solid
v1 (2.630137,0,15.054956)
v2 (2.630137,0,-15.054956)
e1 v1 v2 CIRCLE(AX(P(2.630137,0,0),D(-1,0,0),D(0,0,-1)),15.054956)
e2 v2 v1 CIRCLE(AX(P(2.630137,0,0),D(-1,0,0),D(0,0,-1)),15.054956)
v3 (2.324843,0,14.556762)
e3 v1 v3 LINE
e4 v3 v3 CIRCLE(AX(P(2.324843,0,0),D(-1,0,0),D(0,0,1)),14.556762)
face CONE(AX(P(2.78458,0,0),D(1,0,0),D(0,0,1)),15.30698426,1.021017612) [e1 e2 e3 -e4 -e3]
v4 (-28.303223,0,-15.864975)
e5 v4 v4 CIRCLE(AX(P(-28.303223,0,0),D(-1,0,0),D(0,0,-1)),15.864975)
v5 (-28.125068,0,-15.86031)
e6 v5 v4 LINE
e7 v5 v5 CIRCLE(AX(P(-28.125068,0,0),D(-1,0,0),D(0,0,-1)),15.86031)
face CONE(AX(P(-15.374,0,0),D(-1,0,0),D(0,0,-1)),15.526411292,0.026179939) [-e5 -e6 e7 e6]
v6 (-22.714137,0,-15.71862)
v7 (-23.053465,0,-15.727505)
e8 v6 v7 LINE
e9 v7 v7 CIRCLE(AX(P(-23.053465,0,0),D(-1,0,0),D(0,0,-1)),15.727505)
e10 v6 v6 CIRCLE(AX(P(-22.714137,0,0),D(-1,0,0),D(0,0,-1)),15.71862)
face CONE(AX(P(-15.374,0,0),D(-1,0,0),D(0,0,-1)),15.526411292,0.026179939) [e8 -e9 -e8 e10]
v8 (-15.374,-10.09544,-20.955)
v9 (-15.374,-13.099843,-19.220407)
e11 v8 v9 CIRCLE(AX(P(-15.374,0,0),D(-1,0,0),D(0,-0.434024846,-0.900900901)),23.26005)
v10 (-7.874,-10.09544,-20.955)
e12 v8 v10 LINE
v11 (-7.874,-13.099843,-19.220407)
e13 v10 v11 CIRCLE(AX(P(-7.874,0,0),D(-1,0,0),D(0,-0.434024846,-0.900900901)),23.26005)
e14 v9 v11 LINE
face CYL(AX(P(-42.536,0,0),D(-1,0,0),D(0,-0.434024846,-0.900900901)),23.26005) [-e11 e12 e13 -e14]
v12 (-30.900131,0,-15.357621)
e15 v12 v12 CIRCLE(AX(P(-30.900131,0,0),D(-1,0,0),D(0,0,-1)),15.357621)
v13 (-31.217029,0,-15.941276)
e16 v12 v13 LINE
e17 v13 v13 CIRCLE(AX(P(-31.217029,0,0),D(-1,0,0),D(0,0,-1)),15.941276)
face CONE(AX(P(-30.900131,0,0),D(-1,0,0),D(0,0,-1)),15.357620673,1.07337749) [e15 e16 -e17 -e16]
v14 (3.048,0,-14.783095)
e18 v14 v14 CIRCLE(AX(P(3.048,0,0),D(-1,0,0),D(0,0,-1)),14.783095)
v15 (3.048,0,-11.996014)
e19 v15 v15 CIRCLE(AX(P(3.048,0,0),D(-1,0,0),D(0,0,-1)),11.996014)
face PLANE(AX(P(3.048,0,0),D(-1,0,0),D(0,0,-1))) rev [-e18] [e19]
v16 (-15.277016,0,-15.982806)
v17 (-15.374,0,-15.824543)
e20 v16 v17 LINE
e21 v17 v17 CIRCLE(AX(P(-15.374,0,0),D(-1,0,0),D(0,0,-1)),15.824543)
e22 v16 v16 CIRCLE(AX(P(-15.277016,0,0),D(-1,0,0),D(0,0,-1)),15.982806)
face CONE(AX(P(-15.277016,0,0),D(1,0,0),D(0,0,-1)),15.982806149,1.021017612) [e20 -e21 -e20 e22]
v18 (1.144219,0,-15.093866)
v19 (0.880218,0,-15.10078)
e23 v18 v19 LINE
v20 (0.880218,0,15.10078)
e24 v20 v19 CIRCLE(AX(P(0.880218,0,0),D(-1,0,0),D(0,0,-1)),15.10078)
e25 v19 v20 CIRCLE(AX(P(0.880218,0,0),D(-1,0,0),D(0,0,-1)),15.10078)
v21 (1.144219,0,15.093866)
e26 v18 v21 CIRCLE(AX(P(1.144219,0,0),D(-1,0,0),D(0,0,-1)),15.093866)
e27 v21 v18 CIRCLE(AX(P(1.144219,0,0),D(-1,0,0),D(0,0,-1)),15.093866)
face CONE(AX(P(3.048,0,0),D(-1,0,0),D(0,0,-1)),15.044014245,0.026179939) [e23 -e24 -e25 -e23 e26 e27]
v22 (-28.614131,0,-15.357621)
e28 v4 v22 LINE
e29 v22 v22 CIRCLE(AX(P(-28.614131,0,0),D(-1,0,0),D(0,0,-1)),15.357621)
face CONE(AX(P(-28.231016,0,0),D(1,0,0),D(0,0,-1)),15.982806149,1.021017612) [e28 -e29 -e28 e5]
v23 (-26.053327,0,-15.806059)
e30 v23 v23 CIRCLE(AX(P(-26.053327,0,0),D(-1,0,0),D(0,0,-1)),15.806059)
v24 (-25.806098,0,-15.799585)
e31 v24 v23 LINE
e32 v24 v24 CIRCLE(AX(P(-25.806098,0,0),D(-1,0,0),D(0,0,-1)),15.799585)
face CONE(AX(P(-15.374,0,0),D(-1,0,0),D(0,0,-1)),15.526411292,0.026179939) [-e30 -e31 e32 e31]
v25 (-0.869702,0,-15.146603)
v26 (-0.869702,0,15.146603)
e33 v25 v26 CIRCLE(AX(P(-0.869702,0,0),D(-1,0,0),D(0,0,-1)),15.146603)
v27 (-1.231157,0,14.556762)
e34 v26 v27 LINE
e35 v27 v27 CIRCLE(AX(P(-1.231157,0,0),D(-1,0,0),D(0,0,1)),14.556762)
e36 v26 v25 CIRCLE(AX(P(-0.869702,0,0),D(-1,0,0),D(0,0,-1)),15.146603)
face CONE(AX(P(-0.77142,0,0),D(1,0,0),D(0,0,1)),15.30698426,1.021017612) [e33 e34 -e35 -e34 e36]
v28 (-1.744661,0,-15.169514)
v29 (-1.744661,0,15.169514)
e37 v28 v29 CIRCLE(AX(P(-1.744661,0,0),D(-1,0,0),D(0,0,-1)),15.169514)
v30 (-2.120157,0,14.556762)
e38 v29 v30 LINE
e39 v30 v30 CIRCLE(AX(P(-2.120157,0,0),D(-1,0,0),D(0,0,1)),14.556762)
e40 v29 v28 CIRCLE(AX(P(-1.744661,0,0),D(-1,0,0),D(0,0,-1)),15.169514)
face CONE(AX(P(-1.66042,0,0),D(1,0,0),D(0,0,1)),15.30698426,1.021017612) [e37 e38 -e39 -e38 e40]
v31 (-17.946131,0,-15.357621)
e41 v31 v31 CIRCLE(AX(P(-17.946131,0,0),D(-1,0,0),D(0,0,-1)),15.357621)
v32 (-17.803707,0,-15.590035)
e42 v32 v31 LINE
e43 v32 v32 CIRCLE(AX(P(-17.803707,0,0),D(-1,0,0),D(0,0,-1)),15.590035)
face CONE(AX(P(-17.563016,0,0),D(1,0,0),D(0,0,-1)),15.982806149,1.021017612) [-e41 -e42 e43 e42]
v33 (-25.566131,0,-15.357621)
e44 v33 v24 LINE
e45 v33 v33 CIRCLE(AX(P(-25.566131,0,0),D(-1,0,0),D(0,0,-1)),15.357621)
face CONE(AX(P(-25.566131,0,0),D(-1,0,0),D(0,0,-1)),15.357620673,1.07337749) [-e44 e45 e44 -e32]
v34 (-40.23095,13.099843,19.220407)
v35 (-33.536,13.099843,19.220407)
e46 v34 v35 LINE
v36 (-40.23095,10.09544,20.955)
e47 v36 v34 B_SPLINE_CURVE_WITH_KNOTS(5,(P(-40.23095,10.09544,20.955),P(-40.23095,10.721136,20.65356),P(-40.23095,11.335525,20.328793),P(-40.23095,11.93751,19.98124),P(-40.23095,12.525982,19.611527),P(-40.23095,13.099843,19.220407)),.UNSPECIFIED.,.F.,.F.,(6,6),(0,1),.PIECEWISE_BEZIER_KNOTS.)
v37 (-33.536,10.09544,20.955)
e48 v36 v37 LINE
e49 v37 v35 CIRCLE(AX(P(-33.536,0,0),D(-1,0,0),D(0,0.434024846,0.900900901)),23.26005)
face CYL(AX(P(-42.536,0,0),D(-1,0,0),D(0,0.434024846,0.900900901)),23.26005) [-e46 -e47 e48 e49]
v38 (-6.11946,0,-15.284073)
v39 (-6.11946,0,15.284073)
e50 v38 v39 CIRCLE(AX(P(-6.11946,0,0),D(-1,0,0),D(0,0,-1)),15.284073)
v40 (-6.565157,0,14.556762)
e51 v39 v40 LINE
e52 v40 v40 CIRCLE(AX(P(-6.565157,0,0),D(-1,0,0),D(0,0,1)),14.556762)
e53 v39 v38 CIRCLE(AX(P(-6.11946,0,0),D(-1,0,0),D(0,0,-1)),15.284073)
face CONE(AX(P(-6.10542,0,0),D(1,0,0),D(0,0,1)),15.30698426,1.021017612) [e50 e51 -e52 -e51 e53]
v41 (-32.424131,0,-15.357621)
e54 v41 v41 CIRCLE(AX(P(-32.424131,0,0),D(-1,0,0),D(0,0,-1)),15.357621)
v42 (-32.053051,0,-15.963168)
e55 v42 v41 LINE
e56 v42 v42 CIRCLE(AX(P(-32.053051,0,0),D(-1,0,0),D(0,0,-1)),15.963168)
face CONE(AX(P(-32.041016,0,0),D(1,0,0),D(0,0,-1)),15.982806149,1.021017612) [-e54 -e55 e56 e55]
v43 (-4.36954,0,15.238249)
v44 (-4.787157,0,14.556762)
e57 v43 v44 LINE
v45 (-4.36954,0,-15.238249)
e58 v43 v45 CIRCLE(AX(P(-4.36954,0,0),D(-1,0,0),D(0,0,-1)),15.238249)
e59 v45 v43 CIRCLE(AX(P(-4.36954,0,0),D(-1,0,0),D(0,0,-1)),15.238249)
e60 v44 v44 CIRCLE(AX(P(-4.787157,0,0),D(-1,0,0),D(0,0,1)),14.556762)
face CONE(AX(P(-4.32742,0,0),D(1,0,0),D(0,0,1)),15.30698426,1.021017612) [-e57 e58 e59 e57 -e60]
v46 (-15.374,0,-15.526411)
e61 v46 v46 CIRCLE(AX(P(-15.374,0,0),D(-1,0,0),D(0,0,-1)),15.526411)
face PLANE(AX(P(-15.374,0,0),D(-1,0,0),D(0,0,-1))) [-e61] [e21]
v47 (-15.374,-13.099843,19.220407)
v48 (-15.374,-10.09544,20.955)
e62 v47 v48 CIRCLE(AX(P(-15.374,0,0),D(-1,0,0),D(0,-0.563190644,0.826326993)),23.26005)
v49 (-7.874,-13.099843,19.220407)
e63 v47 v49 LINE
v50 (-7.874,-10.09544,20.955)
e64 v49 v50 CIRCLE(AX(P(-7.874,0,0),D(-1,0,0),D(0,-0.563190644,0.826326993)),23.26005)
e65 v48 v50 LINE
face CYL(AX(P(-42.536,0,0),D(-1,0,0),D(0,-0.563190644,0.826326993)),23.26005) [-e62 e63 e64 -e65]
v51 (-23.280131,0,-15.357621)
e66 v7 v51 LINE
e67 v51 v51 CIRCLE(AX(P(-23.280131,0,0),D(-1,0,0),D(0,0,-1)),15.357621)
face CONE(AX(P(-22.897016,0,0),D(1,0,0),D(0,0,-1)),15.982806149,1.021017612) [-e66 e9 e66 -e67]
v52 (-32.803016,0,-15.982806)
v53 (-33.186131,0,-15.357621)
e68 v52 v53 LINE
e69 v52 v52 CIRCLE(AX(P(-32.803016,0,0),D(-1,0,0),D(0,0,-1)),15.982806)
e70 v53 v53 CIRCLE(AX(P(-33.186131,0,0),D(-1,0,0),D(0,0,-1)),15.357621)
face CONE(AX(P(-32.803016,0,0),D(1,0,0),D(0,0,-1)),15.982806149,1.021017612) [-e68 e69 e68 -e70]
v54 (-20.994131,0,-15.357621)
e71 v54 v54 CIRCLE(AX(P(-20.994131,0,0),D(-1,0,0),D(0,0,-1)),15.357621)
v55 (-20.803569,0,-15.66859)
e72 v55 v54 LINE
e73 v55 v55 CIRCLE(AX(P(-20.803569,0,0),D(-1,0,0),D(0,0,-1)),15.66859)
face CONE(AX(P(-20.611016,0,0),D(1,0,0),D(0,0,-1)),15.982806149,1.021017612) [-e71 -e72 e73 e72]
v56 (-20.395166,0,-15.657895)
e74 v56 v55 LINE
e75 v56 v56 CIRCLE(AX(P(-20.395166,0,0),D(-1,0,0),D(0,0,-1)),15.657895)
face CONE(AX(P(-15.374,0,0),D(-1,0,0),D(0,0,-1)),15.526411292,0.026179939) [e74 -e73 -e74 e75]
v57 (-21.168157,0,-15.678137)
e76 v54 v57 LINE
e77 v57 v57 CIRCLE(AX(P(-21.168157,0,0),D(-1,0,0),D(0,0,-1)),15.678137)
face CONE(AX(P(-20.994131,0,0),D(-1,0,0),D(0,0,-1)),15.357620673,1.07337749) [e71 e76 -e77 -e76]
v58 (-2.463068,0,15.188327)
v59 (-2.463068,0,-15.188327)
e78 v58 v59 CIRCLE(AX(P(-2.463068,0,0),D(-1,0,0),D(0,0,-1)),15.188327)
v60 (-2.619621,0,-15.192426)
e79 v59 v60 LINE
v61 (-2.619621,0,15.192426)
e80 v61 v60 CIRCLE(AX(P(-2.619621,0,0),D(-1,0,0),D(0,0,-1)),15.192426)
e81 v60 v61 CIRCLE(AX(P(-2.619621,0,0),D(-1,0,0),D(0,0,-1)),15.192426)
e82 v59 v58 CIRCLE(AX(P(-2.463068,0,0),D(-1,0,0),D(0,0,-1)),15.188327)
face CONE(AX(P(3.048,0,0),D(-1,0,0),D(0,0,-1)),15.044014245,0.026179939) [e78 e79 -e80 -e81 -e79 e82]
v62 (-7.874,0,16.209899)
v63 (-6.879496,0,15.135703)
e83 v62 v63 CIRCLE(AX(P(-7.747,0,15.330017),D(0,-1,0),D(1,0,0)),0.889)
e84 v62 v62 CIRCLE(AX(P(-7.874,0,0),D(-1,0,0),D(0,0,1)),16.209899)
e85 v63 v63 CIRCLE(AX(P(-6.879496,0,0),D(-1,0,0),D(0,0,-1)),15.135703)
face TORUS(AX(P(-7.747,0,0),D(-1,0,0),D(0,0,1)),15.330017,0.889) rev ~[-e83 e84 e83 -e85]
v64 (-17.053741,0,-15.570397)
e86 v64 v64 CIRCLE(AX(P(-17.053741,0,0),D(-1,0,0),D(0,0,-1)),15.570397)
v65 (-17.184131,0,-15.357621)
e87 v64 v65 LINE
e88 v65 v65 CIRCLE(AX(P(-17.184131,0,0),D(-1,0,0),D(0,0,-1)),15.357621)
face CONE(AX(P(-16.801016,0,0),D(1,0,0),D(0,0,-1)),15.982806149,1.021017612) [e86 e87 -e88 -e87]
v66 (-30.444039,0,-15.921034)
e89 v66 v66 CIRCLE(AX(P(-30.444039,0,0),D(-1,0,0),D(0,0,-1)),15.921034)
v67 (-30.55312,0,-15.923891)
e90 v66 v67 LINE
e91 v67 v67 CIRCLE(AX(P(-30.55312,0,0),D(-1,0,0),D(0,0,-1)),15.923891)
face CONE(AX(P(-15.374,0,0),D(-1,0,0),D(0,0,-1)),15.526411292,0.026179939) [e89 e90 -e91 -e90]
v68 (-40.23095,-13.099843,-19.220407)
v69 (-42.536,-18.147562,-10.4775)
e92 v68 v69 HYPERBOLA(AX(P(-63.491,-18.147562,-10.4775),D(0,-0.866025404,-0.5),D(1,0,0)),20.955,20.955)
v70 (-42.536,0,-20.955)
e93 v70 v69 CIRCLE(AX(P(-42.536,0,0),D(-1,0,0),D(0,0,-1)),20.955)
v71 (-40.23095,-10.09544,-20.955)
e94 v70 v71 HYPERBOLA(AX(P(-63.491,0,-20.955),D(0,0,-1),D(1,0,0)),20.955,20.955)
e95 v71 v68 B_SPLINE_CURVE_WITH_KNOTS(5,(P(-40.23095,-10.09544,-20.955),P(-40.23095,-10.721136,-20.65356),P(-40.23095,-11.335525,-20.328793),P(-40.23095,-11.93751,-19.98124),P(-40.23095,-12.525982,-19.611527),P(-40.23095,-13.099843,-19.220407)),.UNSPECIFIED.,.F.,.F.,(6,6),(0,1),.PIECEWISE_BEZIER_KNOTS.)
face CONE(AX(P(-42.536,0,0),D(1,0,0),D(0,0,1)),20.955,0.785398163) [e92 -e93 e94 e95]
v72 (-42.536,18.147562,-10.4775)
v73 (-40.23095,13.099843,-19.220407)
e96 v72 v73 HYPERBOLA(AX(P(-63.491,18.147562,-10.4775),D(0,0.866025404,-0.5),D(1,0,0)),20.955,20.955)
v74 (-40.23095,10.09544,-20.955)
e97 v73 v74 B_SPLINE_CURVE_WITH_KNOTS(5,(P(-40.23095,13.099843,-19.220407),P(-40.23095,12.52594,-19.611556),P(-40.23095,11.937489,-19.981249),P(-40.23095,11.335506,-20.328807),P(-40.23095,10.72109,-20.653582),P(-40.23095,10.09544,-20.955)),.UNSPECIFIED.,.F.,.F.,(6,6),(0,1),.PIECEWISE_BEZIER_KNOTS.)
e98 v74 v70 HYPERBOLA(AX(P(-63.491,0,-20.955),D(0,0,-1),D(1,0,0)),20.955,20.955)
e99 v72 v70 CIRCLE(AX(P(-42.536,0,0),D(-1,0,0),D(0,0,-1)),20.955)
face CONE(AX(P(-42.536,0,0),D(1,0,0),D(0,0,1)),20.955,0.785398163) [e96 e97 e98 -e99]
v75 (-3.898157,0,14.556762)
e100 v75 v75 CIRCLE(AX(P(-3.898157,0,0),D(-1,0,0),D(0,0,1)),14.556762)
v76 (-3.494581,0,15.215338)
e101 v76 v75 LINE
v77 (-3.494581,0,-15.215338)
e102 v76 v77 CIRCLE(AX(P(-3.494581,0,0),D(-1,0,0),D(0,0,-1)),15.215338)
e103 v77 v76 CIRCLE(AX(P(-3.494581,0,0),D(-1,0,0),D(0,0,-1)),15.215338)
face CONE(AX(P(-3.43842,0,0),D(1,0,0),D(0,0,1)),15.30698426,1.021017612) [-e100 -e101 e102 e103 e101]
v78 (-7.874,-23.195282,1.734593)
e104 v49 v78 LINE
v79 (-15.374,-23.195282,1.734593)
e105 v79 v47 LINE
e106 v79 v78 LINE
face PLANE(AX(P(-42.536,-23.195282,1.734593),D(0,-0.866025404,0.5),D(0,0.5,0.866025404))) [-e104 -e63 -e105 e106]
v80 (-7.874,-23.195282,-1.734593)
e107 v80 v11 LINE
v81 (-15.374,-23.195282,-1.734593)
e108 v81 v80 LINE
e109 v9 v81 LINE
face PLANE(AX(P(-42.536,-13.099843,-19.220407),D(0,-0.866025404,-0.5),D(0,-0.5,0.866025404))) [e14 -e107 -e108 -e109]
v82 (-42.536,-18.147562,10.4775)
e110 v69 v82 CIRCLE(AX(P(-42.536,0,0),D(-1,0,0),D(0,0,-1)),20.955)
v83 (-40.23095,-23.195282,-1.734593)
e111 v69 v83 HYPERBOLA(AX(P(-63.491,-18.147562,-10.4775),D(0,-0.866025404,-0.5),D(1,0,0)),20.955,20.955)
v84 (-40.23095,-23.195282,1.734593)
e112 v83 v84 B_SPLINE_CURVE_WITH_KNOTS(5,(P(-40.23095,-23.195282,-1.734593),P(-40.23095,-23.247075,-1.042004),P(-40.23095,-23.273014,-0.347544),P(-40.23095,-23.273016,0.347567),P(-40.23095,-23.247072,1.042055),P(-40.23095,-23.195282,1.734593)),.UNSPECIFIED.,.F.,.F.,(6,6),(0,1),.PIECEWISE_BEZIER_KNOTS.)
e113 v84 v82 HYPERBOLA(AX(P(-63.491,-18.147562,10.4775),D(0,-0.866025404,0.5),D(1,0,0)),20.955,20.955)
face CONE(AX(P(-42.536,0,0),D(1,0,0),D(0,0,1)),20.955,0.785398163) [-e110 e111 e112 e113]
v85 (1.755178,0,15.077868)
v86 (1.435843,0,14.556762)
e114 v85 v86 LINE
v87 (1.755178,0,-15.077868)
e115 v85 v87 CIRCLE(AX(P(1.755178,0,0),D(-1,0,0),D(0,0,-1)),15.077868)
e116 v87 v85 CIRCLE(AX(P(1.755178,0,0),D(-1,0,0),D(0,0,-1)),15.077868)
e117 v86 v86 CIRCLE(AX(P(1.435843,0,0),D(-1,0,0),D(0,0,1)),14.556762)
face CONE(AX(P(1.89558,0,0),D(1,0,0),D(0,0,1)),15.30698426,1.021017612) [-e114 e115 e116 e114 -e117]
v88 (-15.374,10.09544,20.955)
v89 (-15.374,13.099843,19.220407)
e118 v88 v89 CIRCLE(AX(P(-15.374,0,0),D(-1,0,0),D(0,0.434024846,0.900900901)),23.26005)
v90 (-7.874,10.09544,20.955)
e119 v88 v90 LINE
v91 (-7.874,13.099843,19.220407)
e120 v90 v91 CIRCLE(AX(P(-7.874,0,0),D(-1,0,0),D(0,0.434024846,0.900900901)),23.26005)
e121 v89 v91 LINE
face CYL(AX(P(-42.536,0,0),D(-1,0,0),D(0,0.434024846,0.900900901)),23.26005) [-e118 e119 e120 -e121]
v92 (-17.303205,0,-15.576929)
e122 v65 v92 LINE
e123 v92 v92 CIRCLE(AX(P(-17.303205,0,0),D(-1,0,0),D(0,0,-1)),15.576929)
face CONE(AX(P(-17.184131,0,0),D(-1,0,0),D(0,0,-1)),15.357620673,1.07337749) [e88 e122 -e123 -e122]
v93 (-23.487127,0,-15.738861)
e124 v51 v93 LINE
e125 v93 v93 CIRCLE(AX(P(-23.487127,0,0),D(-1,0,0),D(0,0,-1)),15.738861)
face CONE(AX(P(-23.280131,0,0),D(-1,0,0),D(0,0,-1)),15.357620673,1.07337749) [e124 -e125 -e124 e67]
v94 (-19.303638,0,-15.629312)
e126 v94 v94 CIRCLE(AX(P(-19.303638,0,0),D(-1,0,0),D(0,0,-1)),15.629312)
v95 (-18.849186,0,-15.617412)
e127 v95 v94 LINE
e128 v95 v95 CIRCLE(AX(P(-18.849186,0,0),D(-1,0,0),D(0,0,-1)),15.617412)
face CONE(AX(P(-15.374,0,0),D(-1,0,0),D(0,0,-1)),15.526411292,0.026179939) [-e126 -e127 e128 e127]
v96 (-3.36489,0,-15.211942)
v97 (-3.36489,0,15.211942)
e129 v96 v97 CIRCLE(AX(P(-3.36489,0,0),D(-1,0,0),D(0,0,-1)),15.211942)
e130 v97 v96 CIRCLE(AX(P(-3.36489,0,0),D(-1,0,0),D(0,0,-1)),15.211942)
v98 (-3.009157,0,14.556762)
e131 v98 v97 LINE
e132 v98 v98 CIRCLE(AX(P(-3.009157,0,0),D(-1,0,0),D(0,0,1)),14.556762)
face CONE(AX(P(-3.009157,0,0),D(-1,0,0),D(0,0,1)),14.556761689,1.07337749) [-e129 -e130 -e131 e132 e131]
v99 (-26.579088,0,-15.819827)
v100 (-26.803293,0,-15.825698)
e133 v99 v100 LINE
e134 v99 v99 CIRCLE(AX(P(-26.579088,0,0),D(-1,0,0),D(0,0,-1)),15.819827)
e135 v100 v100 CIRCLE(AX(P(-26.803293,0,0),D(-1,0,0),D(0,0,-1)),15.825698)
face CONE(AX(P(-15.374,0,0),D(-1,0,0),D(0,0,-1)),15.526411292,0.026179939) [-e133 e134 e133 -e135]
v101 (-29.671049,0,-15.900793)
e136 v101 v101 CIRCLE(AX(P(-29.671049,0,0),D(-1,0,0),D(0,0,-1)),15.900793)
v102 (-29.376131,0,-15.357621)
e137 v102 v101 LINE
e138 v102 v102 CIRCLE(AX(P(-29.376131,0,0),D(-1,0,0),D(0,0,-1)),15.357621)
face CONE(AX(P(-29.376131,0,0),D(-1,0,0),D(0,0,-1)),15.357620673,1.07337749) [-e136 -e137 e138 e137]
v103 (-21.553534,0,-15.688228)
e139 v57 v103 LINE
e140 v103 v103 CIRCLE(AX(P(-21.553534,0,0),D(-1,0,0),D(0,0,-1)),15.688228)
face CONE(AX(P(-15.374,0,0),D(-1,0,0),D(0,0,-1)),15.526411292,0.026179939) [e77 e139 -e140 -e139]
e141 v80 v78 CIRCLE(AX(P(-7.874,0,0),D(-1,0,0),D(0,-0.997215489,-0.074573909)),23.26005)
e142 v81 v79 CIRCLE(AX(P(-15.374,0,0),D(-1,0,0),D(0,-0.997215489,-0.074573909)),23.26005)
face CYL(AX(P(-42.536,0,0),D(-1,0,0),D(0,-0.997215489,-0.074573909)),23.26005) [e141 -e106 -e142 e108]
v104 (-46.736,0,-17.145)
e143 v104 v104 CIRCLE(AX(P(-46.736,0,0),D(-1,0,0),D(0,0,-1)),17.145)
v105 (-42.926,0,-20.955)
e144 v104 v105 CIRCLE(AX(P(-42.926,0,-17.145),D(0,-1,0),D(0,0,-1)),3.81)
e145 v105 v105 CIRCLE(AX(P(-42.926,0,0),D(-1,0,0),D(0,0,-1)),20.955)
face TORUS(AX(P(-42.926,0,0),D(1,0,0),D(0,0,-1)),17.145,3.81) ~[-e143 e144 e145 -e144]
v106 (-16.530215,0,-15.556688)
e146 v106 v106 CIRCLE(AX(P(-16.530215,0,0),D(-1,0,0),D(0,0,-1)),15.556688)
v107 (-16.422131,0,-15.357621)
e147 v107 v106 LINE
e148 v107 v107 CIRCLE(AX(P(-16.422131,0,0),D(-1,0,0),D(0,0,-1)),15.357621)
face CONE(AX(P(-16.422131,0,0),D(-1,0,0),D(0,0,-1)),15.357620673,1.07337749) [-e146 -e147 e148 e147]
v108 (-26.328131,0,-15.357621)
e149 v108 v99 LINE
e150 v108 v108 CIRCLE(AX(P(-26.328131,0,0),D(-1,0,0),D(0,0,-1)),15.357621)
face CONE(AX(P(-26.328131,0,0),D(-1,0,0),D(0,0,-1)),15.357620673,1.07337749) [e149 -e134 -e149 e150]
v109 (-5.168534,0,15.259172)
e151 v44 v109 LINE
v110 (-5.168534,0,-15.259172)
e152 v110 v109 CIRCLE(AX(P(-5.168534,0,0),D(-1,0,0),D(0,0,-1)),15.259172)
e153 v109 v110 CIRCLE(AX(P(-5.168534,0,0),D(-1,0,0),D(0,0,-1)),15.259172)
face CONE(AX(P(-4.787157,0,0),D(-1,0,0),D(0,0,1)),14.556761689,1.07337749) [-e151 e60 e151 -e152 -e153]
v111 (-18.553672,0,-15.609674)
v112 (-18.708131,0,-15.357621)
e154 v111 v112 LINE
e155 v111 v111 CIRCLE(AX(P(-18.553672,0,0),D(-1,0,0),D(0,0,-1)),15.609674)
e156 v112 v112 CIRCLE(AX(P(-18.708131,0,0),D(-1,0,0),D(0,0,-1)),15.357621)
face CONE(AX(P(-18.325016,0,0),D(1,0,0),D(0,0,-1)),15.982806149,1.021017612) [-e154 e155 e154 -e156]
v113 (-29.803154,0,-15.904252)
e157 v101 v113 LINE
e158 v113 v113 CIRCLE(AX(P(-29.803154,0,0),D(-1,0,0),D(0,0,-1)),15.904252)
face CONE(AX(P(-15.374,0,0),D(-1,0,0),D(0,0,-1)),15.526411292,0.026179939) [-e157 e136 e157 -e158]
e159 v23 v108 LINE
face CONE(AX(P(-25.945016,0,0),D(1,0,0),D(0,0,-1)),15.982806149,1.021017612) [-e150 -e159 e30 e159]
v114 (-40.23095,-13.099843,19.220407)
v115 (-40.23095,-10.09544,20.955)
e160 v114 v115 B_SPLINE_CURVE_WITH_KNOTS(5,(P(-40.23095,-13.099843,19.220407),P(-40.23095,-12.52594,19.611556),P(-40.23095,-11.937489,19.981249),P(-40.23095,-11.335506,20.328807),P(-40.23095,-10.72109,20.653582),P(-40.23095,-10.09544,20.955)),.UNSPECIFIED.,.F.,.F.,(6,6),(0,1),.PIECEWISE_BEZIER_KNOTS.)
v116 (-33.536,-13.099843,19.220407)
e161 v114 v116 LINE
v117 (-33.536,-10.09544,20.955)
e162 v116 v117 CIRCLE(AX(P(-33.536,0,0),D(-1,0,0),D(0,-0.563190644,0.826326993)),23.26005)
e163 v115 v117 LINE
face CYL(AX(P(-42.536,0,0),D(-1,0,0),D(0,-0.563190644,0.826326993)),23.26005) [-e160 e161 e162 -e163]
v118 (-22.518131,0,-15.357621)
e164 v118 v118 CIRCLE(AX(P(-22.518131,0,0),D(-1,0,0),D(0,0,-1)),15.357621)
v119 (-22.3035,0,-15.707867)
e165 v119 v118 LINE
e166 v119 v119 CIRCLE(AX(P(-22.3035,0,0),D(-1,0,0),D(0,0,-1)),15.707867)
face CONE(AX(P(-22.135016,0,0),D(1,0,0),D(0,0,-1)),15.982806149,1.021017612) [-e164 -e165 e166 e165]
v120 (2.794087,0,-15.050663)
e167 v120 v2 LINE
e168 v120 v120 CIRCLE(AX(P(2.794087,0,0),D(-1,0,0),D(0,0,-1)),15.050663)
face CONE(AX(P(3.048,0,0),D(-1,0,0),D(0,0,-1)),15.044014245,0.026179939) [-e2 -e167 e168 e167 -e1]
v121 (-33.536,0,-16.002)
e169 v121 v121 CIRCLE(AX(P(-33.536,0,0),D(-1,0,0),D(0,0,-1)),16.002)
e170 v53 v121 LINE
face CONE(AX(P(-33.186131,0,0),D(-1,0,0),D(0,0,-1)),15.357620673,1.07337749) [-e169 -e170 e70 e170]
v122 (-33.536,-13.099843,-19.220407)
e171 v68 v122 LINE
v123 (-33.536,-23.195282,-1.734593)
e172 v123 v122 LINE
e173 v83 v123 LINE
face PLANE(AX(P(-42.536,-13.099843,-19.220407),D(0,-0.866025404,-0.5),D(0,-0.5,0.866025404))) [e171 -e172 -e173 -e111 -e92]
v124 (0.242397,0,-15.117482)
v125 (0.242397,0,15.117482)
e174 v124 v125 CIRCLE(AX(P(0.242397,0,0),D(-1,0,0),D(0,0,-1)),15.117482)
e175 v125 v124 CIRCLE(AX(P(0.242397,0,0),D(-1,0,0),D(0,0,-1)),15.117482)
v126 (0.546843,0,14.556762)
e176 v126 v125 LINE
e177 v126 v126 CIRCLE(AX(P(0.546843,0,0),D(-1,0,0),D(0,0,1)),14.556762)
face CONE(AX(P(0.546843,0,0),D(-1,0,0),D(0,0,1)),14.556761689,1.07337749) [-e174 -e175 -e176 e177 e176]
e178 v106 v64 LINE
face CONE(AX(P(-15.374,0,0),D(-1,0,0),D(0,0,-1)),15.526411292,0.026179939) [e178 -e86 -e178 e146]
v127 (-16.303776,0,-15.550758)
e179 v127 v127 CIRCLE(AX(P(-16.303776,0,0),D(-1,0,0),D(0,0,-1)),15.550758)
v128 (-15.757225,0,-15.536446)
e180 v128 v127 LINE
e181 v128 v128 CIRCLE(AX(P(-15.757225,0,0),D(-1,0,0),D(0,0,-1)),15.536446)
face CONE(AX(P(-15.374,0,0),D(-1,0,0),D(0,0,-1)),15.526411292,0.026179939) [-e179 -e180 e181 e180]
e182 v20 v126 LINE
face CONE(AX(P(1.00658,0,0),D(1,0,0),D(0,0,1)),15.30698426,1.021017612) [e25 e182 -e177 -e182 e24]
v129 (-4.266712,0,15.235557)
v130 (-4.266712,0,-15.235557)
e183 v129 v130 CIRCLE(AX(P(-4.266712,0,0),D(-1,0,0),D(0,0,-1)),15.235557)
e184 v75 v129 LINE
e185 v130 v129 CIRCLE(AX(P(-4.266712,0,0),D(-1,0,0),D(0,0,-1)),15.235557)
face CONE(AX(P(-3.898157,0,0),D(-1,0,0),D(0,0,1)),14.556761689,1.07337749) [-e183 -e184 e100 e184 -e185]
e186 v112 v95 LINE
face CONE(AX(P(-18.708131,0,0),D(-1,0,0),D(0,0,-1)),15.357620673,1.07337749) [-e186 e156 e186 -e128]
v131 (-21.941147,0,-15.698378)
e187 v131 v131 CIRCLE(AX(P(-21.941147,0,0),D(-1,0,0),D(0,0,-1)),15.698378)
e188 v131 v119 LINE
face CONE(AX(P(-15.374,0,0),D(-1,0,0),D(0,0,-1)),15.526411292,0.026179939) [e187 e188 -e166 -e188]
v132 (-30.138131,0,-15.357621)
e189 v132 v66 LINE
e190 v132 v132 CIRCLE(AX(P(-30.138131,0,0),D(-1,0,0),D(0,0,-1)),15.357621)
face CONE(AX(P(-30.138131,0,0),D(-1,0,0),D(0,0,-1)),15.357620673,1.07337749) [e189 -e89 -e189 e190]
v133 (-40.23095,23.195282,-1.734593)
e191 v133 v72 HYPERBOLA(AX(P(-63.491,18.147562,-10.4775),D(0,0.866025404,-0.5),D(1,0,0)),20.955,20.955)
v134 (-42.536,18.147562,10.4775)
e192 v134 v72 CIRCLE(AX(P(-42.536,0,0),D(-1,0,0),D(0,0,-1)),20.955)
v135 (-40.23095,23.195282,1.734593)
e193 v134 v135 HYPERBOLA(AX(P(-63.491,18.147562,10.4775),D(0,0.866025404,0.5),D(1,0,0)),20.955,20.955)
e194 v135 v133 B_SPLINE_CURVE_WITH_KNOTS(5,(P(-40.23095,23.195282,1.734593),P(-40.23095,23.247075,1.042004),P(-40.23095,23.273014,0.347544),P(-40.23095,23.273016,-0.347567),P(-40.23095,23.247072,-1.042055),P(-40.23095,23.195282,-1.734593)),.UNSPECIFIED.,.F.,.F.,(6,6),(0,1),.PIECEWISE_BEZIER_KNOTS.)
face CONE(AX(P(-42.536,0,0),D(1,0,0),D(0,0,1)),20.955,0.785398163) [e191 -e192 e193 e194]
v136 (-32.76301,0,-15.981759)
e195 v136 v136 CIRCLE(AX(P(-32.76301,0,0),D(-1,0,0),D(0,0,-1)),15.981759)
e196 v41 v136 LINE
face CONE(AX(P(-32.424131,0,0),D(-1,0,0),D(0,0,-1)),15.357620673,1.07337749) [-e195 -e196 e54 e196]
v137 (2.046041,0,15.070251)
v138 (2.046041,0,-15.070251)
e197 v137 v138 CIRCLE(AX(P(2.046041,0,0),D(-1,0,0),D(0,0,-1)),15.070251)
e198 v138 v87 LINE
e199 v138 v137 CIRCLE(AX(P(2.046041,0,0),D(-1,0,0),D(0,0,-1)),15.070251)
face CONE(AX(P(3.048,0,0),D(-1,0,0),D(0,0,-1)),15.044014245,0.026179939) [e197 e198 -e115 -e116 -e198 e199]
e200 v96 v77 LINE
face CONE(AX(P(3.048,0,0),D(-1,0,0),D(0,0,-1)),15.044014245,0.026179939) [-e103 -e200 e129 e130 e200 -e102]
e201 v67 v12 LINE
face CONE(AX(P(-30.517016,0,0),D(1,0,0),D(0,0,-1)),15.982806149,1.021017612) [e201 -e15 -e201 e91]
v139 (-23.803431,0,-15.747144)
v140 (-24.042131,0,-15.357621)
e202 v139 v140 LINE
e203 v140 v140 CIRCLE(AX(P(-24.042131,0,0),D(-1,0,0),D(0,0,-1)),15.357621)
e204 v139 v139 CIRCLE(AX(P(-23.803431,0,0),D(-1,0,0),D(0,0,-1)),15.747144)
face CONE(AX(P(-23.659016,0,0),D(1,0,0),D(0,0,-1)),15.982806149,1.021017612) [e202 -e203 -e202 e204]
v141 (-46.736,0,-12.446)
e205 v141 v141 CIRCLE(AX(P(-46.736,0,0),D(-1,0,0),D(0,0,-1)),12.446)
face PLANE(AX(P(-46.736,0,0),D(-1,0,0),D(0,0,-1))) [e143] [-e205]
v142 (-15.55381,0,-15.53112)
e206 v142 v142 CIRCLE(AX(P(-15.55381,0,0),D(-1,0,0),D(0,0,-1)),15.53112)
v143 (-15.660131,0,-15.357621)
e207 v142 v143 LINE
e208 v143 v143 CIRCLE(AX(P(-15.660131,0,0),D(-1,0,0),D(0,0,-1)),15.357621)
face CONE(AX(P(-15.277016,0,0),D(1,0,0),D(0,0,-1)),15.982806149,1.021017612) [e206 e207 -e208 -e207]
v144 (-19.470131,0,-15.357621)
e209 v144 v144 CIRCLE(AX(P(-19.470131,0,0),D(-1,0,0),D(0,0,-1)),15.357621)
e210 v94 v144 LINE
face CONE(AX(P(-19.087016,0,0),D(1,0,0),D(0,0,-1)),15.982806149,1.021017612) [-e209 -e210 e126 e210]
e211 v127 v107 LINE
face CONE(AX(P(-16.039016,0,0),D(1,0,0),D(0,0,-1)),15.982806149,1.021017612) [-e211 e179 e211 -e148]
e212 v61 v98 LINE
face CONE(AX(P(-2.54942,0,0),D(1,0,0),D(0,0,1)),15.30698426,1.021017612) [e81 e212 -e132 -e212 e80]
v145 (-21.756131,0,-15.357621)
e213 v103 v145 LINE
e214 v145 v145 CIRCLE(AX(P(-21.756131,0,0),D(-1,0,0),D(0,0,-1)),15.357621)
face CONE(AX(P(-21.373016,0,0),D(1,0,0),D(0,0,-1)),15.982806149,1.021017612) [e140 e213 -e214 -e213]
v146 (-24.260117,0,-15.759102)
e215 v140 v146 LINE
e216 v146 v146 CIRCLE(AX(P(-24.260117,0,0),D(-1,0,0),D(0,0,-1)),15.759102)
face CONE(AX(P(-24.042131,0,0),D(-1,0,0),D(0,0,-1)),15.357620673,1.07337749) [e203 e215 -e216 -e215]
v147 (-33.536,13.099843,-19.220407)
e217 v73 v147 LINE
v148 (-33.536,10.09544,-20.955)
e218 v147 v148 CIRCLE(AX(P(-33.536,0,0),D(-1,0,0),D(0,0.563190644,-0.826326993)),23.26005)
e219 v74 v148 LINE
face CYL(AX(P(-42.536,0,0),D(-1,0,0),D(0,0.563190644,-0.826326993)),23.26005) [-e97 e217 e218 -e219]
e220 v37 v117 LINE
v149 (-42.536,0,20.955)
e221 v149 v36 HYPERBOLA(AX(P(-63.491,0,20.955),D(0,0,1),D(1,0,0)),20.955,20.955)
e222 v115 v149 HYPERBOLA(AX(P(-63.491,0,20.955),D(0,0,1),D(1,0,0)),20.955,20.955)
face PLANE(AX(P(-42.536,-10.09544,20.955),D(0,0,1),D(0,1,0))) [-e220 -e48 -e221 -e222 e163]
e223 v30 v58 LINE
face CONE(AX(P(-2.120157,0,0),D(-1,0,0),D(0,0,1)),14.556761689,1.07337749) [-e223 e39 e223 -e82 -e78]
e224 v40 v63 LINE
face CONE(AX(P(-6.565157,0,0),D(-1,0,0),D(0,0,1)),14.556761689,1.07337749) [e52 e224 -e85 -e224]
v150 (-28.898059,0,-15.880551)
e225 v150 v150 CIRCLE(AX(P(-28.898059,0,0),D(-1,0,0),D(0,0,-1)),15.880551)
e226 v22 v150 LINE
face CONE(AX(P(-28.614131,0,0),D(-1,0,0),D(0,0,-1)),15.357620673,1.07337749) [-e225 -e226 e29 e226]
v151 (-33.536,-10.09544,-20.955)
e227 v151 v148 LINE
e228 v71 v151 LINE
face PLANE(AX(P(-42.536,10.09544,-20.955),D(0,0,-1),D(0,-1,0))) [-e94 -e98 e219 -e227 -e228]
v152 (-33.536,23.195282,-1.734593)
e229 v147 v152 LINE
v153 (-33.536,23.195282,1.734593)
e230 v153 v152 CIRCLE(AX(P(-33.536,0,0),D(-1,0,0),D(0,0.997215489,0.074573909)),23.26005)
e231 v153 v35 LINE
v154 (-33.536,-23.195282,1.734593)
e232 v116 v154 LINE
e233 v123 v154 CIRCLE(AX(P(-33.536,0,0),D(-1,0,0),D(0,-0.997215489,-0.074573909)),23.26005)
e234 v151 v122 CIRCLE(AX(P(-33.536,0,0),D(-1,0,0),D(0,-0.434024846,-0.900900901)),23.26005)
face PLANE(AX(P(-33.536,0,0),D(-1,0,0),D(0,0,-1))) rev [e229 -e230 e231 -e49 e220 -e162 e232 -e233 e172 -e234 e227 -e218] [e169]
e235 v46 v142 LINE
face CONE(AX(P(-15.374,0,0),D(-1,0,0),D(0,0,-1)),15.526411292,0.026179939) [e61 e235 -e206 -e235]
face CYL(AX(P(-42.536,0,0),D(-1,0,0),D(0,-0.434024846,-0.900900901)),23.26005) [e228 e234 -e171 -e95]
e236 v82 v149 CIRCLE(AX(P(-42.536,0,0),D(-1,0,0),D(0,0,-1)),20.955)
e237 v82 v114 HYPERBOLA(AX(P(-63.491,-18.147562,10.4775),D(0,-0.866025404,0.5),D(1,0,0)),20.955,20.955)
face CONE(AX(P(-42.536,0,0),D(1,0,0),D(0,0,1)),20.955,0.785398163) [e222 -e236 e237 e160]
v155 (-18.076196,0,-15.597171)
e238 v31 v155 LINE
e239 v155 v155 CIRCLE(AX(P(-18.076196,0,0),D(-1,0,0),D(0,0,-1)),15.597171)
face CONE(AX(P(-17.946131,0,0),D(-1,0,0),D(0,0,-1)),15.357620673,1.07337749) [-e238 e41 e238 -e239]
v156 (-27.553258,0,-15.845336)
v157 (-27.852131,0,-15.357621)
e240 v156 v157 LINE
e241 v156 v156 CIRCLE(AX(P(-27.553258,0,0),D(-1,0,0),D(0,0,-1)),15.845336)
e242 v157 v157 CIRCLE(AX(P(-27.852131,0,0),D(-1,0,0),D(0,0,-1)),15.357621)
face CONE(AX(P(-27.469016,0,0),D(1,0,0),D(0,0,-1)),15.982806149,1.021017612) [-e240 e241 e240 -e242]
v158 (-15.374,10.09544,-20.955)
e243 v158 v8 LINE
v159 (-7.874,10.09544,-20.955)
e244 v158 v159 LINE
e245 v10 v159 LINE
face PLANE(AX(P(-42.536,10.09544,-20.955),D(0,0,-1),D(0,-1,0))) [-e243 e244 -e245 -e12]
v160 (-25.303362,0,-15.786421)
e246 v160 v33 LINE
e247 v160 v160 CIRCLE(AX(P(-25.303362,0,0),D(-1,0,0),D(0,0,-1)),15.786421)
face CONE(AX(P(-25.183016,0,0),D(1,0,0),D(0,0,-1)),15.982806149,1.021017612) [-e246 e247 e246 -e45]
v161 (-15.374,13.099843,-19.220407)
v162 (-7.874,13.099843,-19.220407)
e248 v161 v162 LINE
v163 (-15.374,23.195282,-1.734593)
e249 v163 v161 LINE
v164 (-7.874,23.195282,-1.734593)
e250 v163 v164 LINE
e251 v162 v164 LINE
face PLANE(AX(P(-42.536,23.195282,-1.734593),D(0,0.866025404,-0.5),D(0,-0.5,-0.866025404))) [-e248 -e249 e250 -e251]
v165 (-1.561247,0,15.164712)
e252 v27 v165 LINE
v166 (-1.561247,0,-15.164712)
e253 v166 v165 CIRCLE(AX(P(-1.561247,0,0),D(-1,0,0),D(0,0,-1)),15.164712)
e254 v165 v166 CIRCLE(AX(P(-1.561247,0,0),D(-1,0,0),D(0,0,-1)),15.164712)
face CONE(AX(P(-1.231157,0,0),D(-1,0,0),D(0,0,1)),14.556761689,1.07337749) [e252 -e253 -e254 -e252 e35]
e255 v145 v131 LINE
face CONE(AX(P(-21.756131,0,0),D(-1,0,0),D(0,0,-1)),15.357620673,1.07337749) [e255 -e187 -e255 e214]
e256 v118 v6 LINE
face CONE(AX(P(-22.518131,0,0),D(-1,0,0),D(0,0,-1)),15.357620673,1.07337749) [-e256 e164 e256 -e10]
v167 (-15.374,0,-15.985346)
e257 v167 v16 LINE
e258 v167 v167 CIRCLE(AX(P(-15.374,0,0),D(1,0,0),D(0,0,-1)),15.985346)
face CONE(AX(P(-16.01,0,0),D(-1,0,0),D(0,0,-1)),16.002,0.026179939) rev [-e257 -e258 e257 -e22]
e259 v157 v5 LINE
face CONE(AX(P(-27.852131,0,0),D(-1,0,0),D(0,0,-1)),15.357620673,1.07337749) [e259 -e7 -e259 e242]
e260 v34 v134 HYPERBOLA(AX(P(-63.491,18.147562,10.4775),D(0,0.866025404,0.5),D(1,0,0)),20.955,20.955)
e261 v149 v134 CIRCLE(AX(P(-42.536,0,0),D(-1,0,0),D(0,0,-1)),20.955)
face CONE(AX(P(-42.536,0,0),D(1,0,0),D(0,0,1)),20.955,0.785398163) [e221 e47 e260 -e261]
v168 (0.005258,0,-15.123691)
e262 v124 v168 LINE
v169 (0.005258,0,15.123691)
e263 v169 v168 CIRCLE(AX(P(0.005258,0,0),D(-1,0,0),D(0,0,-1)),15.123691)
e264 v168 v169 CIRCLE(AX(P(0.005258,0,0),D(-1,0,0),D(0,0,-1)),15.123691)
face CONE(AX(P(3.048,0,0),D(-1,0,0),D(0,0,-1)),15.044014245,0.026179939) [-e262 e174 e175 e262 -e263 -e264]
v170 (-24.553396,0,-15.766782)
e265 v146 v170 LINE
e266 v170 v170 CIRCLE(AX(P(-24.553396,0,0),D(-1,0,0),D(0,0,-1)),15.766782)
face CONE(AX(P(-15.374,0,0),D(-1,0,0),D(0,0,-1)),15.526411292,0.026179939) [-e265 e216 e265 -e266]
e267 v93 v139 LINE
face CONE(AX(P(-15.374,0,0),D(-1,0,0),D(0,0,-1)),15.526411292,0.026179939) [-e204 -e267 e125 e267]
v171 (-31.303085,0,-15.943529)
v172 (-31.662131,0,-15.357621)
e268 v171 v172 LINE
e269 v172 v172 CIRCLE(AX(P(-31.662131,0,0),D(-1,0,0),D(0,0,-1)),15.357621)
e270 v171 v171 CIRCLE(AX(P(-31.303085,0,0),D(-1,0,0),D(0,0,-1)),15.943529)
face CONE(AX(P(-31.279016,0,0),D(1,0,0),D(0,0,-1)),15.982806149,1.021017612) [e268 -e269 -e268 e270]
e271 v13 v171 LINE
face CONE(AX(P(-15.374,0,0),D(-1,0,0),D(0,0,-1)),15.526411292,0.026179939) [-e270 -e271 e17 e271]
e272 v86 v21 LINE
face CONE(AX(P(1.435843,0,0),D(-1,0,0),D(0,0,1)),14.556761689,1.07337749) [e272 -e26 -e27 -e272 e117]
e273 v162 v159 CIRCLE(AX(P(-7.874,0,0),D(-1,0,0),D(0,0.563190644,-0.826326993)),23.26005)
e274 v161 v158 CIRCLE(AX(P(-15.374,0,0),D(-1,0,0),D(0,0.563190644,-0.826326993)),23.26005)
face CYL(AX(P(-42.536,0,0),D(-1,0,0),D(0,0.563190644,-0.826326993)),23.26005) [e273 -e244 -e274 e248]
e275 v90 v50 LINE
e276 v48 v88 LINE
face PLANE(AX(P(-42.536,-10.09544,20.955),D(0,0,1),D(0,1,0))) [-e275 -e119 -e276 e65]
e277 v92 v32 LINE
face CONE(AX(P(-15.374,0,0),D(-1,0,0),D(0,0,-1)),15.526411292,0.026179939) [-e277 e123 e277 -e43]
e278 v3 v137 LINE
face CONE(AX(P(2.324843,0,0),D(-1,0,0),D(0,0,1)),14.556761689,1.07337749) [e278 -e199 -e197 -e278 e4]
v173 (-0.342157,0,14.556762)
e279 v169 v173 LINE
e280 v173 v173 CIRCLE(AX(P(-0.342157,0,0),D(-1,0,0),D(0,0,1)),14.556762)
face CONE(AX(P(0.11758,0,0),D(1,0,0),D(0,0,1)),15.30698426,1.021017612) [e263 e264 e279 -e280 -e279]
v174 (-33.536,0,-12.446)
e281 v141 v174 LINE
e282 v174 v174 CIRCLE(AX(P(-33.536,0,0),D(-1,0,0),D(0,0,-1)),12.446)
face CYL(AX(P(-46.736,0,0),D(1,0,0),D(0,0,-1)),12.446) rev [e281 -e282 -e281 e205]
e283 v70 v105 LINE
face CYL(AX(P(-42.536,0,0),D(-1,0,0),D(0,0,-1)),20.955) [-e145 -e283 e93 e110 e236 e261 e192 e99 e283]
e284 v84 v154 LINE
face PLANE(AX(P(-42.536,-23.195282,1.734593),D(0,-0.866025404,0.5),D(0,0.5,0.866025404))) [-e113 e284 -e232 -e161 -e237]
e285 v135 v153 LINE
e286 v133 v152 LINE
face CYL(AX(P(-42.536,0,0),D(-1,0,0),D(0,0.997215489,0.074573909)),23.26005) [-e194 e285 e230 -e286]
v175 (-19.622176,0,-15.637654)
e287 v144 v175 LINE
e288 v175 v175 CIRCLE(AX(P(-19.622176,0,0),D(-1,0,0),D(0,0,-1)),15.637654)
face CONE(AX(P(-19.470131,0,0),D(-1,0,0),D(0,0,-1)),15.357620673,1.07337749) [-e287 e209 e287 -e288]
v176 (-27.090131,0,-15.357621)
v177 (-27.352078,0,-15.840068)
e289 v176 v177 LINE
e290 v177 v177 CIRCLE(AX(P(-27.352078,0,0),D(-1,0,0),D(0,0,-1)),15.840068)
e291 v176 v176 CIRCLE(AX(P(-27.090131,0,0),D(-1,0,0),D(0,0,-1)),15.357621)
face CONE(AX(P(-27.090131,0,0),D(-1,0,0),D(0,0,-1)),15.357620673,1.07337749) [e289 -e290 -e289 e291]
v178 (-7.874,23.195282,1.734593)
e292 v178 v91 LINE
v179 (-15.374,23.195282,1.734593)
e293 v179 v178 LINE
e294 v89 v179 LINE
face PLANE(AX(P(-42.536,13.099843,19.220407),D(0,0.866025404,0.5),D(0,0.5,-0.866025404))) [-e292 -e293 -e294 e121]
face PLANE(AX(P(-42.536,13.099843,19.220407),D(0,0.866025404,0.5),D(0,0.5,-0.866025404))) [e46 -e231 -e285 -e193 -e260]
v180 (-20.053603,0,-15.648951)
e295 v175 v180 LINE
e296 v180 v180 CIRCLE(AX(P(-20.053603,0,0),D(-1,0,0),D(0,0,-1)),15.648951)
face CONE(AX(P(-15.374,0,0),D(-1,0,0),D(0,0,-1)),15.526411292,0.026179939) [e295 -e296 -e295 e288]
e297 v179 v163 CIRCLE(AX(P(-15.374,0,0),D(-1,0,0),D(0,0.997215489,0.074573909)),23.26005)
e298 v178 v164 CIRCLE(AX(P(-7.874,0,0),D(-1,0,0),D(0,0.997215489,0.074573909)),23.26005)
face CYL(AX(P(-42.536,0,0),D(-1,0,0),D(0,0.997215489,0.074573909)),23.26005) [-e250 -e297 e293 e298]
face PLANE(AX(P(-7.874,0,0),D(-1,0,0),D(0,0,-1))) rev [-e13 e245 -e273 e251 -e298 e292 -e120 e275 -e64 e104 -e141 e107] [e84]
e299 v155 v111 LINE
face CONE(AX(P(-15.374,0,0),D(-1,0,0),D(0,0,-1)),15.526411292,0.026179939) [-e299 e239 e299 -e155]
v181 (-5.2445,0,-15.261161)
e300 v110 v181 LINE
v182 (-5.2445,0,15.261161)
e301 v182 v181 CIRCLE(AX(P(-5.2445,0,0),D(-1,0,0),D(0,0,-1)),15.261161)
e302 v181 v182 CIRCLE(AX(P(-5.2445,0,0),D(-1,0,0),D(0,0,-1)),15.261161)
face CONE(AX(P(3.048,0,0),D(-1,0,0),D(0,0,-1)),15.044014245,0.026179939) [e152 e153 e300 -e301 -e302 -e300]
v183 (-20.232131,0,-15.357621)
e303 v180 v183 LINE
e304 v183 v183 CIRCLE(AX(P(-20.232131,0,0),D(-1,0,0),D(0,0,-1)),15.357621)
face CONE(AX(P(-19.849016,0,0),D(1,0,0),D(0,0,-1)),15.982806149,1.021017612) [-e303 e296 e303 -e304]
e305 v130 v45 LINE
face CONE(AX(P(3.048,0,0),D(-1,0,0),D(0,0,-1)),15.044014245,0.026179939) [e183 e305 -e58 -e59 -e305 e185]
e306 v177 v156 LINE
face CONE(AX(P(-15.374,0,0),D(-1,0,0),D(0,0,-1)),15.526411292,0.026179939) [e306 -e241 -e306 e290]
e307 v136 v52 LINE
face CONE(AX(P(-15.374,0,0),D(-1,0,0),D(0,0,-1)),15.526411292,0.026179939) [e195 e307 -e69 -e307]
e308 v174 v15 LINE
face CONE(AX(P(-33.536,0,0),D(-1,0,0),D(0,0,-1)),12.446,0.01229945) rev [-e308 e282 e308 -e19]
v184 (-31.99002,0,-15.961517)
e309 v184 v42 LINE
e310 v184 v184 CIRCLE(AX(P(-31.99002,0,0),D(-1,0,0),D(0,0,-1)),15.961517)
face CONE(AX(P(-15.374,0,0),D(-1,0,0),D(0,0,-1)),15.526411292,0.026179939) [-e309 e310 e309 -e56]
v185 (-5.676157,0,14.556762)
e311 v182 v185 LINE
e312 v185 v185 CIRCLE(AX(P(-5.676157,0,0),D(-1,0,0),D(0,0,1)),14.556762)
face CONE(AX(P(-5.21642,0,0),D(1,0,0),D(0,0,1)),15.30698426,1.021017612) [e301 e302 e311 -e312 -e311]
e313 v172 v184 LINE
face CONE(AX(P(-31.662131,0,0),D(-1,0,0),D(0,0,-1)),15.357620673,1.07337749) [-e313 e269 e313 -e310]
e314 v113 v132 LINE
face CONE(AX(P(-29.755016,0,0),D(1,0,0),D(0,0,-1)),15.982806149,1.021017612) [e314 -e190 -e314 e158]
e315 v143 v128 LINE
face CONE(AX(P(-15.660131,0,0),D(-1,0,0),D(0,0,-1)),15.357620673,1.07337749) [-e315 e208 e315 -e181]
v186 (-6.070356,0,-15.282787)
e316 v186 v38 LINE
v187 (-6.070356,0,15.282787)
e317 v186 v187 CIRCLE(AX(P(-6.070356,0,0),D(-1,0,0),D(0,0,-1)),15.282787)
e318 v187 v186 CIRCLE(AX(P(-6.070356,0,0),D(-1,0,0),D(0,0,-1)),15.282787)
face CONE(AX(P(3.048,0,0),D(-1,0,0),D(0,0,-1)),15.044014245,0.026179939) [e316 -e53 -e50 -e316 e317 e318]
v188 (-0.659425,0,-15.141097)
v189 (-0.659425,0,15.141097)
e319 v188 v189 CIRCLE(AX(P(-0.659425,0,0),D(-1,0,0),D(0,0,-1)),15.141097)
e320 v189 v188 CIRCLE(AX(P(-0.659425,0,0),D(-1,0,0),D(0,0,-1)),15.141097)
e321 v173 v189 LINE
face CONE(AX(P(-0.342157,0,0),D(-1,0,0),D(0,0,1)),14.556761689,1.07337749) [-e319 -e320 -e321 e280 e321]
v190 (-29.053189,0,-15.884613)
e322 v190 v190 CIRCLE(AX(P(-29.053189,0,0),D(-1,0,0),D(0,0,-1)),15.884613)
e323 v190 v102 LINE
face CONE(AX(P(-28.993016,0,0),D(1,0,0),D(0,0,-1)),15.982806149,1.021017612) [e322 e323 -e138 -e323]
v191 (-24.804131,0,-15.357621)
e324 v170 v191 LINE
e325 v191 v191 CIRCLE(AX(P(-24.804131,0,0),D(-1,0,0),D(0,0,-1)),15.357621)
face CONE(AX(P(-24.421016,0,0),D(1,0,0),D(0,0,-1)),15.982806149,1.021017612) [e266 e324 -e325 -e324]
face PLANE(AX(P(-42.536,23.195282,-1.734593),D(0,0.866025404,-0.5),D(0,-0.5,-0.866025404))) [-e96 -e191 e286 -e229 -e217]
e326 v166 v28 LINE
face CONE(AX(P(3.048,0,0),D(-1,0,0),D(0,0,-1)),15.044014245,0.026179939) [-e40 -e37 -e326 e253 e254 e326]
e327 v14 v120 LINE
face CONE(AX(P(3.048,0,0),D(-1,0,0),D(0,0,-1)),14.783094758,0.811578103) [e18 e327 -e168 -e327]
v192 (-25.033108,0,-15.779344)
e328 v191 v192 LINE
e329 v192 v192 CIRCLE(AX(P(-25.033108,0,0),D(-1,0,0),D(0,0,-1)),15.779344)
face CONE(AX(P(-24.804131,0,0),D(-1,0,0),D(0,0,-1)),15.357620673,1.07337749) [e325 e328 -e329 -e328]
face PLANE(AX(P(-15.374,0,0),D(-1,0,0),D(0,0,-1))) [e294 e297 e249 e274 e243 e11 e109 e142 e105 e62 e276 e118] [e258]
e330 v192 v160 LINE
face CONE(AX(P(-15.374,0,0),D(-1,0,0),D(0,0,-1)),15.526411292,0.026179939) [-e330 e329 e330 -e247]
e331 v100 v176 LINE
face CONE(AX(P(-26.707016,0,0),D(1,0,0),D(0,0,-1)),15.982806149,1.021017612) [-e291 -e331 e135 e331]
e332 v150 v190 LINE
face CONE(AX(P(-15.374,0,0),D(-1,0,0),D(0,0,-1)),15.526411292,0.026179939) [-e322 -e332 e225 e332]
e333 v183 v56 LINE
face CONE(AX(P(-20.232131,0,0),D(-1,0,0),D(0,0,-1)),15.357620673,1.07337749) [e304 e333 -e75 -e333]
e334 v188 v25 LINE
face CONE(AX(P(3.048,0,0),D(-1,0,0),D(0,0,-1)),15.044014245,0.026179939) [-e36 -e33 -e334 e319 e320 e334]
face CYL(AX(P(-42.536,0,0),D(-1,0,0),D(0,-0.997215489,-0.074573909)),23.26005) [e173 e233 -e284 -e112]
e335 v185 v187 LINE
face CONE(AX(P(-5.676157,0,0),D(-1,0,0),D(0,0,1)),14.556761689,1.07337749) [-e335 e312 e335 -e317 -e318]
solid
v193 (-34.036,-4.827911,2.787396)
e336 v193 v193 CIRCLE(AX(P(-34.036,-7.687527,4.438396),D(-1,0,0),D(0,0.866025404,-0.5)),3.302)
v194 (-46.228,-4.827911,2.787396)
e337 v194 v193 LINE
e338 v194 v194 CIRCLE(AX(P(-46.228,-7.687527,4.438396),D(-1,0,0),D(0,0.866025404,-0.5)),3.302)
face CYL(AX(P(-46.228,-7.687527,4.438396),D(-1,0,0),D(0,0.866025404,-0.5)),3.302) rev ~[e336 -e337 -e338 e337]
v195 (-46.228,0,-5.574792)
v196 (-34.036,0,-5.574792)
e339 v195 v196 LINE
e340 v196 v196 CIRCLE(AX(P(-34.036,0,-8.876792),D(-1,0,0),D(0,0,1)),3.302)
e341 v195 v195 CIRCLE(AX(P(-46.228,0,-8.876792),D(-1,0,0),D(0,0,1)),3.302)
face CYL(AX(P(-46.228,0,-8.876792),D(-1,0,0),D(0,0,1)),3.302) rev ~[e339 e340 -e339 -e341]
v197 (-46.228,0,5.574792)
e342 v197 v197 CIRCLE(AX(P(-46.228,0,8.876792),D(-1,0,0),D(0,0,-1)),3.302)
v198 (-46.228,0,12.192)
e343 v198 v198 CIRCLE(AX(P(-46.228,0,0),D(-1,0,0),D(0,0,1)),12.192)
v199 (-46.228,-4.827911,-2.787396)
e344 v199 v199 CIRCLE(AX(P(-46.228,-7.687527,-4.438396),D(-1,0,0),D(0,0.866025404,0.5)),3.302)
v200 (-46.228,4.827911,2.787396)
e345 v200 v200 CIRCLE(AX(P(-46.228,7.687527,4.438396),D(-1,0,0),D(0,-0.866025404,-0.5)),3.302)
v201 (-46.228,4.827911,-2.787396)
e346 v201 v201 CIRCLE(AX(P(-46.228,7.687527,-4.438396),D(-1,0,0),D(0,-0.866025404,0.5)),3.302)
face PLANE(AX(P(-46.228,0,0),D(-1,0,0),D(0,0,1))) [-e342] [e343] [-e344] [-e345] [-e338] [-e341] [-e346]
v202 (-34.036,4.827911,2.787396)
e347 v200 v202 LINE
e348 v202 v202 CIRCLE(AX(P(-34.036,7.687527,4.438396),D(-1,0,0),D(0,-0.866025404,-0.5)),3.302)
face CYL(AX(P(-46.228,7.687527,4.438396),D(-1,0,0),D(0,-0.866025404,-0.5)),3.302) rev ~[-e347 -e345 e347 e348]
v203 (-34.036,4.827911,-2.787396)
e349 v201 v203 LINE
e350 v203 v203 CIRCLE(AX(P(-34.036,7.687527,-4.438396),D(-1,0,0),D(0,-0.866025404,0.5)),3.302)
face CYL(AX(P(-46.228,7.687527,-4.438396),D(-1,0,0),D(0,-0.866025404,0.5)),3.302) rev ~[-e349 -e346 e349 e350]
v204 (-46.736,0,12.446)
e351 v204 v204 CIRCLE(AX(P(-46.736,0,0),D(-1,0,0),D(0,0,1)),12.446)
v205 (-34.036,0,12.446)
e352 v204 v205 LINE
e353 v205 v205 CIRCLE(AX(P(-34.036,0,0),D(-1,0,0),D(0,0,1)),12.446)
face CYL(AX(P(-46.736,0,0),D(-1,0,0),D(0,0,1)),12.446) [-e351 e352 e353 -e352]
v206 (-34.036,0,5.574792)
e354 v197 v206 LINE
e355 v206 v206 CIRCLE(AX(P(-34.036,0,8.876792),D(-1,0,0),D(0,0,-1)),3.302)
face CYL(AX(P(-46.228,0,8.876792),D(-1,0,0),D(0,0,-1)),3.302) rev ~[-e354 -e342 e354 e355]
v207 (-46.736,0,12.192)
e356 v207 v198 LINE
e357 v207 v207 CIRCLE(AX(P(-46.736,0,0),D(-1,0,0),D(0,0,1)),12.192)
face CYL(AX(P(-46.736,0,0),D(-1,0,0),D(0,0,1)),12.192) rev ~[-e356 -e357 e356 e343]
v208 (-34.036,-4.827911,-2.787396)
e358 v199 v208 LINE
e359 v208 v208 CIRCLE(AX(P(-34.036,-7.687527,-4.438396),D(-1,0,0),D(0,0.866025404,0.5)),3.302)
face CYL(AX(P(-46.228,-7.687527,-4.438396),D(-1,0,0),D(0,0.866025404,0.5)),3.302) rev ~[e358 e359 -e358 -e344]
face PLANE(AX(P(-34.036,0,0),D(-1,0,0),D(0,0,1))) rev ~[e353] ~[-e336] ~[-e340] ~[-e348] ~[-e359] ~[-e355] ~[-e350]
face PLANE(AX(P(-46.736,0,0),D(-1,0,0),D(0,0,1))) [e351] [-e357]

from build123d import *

# Parameters (mm, degrees)
SKETCH12_OUTSIDE_W = 111.534
SKETCH12_OUTSIDE_H = 111.534
CUT_EXTRUDE2_DEPTH = 46.584
FILLET4_R          = 3.81
SKETCH19_OUTSIDE_W = 67.904
SKETCH19_OUTSIDE_H = 72.514
SKETCH19_OUTSIDE_R = 20.955
CUT_EXTRUDE3_DEPTH = 3.99796
CUT_EXTRUDE3_DRAFT = -45
CHAMFER1_SIZE      = 0.260919487
CHAMFER1_SIZE2     = 0.254
SKETCH21_R         = 12.446
PLUG_DEPTH         = 12.7
SKETCH22_R         = 12.192
CUT_EXTRUDE4_DEPTH = 0.508
SKETCH27_R         = 3.302
PLUGHOLES_DEPTH    = 50.276
CIRPATTERN1_COUNT  = 6
LPATTERN1_COUNT    = 24
LPATTERN1_PITCH    = 0.762
LPATTERN2_COUNT    = 12
LPATTERN2_PITCH    = 0.889
SKETCH32_R         = 0.889


with BuildPart() as part:
    # Sketch10 → Revolve2 (revolve)
    with BuildSketch(Plane.XY, mode=Mode.PRIVATE) as revolve2_sk:
        Polygon((-46.736, 12.446), (-33.536, 12.446), (3.048, 11.996014245), (3.048, 15.044014245), (-7.874, 15.330016881), (-7.874, 41.91), (-15.374, 41.91), (-15.374, 15.526411292), (-33.536, 16.002), (-33.536, 41.91), (-42.536, 41.91), (-42.536, 20.955), (-46.736, 20.955), align=None)
    revolve(revolve2_sk.sketch.rotate(Axis((0, 0, 0), (-1, 0, 0)), 90), axis=Axis((0, 0, 0), (-1, 0, 0)))  # turned: the seam where the file's is

    # Sketch12 outside → Cut-Extrude2 (cut, through all)
    with BuildSketch(Plane.ZY.offset(42.536)):
        Rectangle(SKETCH12_OUTSIDE_W, SKETCH12_OUTSIDE_H)
        with BuildLine():
            Line((-1.734592832, 23.195282143), (-19.220407168, 13.099842529))
            ThreePointArc((-19.220407168, 13.099842529), (-20.143794193, 11.630025), (-20.955, 10.095439614))
            Line((-20.955, 10.095439614), (-20.955, -10.095439614))
            ThreePointArc((-20.955, -10.095439614), (-20.143794193, -11.630025), (-19.220407168, -13.099842529))
            Line((-19.220407168, -13.099842529), (-1.734592832, -23.195282143))
            ThreePointArc((-1.734592832, -23.195282143), (0, -23.26005), (1.734592832, -23.195282143))
            Line((1.734592832, -23.195282143), (19.220407168, -13.099842529))
            ThreePointArc((19.220407168, -13.099842529), (20.143794193, -11.630025), (20.955, -10.095439614))
            Line((20.955, -10.095439614), (20.955, 10.095439614))
            ThreePointArc((20.955, 10.095439614), (20.143794193, 11.630025), (19.220407168, 13.099842529))
            Line((19.220407168, 13.099842529), (1.734592832, 23.195282143))
            ThreePointArc((1.734592832, 23.195282143), (0, 23.26005), (-1.734592832, 23.195282143))
        make_face(mode=Mode.SUBTRACT)
    extrude(amount=-CUT_EXTRUDE2_DEPTH, mode=Mode.SUBTRACT)

    # Fillet4
    fillet4_edges = [part.edges().sort_by_distance(p)[0] for p in [
        (-46.736, 0, 20.955),
    ]]
    fillet(fillet4_edges, radius=FILLET4_R)


with BuildPart() as cut_extrude3_tool:
    # Sketch19 outside → Cut-Extrude3 (with draft: the straight prism first)
    with BuildSketch(Plane.ZY.offset(42.536)):
        Rectangle(SKETCH19_OUTSIDE_W, SKETCH19_OUTSIDE_H)
        Circle(SKETCH19_OUTSIDE_R, mode=Mode.SUBTRACT)
    extrude(amount=-CUT_EXTRUDE3_DEPTH)
    # Cut-Extrude3: the draft: its side faces are tilted about the plane it starts from
    cut_extrude3_sides = [cut_extrude3_tool.faces().sort_by_distance(p)[0] for p in [
        (-40.53702, -36.257, 0),
        (-40.53702, 0, 33.952),
        (-40.53702, 36.257, 0),
        (-40.53702, 0, -33.952),
        (-40.53702, 0, -20.955),
    ]]
    draft(cut_extrude3_sides, Plane.ZY.offset(42.536), CUT_EXTRUDE3_DRAFT)


with BuildPart() as part_1:
    add(part.part)

    # Cut-Extrude3: cut by cut_extrude3_tool
    add(cut_extrude3_tool.part, mode=Mode.SUBTRACT)

    # Chamfer1
    chamfer1_edges = [part_1.edges().sort_by_distance(p)[0] for p in [
        (3.048, 0, 15.044014245),
    ]]
    chamfer1_side = [part_1.faces().sort_by_distance(p)[0] for p in [
        (3.048, 0, 12.421523225),
    ]]
    chamfer(chamfer1_edges, length=CHAMFER1_SIZE, length2=CHAMFER1_SIZE2, reference=chamfer1_side[0])

    # Sketch29 → Cut-Revolve1 (revolve, cut)
    with BuildSketch(Plane.XY, mode=Mode.PRIVATE) as cut_revolve1_sk:
        Polygon((-33.536, 16.002), (-32.803016419, 15.982806149), (-33.186130572, 15.357620673), align=None)
    cut_revolve1 = revolve(cut_revolve1_sk.sketch.rotate(Axis((0, 0, 0), (-1, 0, 0)), 90), axis=Axis((0, 0, 0), (-1, 0, 0)), mode=Mode.SUBTRACT)  # turned: the seam where the file's is

    # LPattern1: Cut-Revolve1 ×24
    with Locations(*[(i * LPATTERN1_PITCH, 0, 0) for i in range(1, LPATTERN1_COUNT)]):
        add(cut_revolve1, mode=Mode.SUBTRACT)

    # Sketch30 → Cut-Revolve2 (revolve, cut)
    with BuildSketch(Plane.XY, mode=Mode.PRIVATE) as cut_revolve2_sk:
        Polygon((-7.874, 15.330016881), (-6.994419703, 15.30698426), (-7.454156686, 14.556761689), align=None)
    cut_revolve2 = revolve(cut_revolve2_sk.sketch.rotate(Axis((0, 0, 0), (-1, 0, 0)), 270), axis=Axis((0, 0, 0), (-1, 0, 0)), mode=Mode.SUBTRACT)  # turned: the seam where the file's is

    # LPattern2: Cut-Revolve2 ×12
    with Locations(*[(i * LPATTERN2_PITCH, 0, 0) for i in range(1, LPATTERN2_COUNT)]):
        add(cut_revolve2, mode=Mode.SUBTRACT)

    # Sketch32 → Cut-Revolve3 (revolve, cut)
    with BuildSketch(Plane.XY, mode=Mode.PRIVATE) as cut_revolve3_sk:
        with Locations((-7.747, 15.330016881)):
            Circle(SKETCH32_R)
    revolve(cut_revolve3_sk.sketch.rotate(Axis((0, 0, 0), (-1, 0, 0)), 270), axis=Axis((0, 0, 0), (-1, 0, 0)), mode=Mode.SUBTRACT)  # turned: the seam where the file's is


with BuildPart() as body_2:
    # Sketch21 → plug (new body)
    with BuildSketch(Plane.ZY.offset(46.736)):
        Circle(SKETCH21_R)
    extrude(amount=-PLUG_DEPTH)

    # Sketch22 → Cut-Extrude4 (cut)
    with BuildSketch(Plane.ZY.offset(46.736)):
        Circle(SKETCH22_R)
    extrude(amount=-CUT_EXTRUDE4_DEPTH, mode=Mode.SUBTRACT)

    # Sketch27 → plugholes (cut, through all)
    with BuildSketch(Plane.ZY.offset(46.228)):
        with Locations((-8.876792, 0)):
            Circle(SKETCH27_R)
    plugholes = extrude(amount=-PLUGHOLES_DEPTH, mode=Mode.SUBTRACT)

    # CirPattern1: plugholes ×6 about axis
    cirpattern1_axis = Axis((0, 0, 0), (1, 0, 0))
    for i in range(1, CIRPATTERN1_COUNT):
        add(plugholes.rotate(cirpattern1_axis, i * 360 / CIRPATTERN1_COUNT), mode=Mode.SUBTRACT)


solid = Compound([part_1.part, body_2.part])
